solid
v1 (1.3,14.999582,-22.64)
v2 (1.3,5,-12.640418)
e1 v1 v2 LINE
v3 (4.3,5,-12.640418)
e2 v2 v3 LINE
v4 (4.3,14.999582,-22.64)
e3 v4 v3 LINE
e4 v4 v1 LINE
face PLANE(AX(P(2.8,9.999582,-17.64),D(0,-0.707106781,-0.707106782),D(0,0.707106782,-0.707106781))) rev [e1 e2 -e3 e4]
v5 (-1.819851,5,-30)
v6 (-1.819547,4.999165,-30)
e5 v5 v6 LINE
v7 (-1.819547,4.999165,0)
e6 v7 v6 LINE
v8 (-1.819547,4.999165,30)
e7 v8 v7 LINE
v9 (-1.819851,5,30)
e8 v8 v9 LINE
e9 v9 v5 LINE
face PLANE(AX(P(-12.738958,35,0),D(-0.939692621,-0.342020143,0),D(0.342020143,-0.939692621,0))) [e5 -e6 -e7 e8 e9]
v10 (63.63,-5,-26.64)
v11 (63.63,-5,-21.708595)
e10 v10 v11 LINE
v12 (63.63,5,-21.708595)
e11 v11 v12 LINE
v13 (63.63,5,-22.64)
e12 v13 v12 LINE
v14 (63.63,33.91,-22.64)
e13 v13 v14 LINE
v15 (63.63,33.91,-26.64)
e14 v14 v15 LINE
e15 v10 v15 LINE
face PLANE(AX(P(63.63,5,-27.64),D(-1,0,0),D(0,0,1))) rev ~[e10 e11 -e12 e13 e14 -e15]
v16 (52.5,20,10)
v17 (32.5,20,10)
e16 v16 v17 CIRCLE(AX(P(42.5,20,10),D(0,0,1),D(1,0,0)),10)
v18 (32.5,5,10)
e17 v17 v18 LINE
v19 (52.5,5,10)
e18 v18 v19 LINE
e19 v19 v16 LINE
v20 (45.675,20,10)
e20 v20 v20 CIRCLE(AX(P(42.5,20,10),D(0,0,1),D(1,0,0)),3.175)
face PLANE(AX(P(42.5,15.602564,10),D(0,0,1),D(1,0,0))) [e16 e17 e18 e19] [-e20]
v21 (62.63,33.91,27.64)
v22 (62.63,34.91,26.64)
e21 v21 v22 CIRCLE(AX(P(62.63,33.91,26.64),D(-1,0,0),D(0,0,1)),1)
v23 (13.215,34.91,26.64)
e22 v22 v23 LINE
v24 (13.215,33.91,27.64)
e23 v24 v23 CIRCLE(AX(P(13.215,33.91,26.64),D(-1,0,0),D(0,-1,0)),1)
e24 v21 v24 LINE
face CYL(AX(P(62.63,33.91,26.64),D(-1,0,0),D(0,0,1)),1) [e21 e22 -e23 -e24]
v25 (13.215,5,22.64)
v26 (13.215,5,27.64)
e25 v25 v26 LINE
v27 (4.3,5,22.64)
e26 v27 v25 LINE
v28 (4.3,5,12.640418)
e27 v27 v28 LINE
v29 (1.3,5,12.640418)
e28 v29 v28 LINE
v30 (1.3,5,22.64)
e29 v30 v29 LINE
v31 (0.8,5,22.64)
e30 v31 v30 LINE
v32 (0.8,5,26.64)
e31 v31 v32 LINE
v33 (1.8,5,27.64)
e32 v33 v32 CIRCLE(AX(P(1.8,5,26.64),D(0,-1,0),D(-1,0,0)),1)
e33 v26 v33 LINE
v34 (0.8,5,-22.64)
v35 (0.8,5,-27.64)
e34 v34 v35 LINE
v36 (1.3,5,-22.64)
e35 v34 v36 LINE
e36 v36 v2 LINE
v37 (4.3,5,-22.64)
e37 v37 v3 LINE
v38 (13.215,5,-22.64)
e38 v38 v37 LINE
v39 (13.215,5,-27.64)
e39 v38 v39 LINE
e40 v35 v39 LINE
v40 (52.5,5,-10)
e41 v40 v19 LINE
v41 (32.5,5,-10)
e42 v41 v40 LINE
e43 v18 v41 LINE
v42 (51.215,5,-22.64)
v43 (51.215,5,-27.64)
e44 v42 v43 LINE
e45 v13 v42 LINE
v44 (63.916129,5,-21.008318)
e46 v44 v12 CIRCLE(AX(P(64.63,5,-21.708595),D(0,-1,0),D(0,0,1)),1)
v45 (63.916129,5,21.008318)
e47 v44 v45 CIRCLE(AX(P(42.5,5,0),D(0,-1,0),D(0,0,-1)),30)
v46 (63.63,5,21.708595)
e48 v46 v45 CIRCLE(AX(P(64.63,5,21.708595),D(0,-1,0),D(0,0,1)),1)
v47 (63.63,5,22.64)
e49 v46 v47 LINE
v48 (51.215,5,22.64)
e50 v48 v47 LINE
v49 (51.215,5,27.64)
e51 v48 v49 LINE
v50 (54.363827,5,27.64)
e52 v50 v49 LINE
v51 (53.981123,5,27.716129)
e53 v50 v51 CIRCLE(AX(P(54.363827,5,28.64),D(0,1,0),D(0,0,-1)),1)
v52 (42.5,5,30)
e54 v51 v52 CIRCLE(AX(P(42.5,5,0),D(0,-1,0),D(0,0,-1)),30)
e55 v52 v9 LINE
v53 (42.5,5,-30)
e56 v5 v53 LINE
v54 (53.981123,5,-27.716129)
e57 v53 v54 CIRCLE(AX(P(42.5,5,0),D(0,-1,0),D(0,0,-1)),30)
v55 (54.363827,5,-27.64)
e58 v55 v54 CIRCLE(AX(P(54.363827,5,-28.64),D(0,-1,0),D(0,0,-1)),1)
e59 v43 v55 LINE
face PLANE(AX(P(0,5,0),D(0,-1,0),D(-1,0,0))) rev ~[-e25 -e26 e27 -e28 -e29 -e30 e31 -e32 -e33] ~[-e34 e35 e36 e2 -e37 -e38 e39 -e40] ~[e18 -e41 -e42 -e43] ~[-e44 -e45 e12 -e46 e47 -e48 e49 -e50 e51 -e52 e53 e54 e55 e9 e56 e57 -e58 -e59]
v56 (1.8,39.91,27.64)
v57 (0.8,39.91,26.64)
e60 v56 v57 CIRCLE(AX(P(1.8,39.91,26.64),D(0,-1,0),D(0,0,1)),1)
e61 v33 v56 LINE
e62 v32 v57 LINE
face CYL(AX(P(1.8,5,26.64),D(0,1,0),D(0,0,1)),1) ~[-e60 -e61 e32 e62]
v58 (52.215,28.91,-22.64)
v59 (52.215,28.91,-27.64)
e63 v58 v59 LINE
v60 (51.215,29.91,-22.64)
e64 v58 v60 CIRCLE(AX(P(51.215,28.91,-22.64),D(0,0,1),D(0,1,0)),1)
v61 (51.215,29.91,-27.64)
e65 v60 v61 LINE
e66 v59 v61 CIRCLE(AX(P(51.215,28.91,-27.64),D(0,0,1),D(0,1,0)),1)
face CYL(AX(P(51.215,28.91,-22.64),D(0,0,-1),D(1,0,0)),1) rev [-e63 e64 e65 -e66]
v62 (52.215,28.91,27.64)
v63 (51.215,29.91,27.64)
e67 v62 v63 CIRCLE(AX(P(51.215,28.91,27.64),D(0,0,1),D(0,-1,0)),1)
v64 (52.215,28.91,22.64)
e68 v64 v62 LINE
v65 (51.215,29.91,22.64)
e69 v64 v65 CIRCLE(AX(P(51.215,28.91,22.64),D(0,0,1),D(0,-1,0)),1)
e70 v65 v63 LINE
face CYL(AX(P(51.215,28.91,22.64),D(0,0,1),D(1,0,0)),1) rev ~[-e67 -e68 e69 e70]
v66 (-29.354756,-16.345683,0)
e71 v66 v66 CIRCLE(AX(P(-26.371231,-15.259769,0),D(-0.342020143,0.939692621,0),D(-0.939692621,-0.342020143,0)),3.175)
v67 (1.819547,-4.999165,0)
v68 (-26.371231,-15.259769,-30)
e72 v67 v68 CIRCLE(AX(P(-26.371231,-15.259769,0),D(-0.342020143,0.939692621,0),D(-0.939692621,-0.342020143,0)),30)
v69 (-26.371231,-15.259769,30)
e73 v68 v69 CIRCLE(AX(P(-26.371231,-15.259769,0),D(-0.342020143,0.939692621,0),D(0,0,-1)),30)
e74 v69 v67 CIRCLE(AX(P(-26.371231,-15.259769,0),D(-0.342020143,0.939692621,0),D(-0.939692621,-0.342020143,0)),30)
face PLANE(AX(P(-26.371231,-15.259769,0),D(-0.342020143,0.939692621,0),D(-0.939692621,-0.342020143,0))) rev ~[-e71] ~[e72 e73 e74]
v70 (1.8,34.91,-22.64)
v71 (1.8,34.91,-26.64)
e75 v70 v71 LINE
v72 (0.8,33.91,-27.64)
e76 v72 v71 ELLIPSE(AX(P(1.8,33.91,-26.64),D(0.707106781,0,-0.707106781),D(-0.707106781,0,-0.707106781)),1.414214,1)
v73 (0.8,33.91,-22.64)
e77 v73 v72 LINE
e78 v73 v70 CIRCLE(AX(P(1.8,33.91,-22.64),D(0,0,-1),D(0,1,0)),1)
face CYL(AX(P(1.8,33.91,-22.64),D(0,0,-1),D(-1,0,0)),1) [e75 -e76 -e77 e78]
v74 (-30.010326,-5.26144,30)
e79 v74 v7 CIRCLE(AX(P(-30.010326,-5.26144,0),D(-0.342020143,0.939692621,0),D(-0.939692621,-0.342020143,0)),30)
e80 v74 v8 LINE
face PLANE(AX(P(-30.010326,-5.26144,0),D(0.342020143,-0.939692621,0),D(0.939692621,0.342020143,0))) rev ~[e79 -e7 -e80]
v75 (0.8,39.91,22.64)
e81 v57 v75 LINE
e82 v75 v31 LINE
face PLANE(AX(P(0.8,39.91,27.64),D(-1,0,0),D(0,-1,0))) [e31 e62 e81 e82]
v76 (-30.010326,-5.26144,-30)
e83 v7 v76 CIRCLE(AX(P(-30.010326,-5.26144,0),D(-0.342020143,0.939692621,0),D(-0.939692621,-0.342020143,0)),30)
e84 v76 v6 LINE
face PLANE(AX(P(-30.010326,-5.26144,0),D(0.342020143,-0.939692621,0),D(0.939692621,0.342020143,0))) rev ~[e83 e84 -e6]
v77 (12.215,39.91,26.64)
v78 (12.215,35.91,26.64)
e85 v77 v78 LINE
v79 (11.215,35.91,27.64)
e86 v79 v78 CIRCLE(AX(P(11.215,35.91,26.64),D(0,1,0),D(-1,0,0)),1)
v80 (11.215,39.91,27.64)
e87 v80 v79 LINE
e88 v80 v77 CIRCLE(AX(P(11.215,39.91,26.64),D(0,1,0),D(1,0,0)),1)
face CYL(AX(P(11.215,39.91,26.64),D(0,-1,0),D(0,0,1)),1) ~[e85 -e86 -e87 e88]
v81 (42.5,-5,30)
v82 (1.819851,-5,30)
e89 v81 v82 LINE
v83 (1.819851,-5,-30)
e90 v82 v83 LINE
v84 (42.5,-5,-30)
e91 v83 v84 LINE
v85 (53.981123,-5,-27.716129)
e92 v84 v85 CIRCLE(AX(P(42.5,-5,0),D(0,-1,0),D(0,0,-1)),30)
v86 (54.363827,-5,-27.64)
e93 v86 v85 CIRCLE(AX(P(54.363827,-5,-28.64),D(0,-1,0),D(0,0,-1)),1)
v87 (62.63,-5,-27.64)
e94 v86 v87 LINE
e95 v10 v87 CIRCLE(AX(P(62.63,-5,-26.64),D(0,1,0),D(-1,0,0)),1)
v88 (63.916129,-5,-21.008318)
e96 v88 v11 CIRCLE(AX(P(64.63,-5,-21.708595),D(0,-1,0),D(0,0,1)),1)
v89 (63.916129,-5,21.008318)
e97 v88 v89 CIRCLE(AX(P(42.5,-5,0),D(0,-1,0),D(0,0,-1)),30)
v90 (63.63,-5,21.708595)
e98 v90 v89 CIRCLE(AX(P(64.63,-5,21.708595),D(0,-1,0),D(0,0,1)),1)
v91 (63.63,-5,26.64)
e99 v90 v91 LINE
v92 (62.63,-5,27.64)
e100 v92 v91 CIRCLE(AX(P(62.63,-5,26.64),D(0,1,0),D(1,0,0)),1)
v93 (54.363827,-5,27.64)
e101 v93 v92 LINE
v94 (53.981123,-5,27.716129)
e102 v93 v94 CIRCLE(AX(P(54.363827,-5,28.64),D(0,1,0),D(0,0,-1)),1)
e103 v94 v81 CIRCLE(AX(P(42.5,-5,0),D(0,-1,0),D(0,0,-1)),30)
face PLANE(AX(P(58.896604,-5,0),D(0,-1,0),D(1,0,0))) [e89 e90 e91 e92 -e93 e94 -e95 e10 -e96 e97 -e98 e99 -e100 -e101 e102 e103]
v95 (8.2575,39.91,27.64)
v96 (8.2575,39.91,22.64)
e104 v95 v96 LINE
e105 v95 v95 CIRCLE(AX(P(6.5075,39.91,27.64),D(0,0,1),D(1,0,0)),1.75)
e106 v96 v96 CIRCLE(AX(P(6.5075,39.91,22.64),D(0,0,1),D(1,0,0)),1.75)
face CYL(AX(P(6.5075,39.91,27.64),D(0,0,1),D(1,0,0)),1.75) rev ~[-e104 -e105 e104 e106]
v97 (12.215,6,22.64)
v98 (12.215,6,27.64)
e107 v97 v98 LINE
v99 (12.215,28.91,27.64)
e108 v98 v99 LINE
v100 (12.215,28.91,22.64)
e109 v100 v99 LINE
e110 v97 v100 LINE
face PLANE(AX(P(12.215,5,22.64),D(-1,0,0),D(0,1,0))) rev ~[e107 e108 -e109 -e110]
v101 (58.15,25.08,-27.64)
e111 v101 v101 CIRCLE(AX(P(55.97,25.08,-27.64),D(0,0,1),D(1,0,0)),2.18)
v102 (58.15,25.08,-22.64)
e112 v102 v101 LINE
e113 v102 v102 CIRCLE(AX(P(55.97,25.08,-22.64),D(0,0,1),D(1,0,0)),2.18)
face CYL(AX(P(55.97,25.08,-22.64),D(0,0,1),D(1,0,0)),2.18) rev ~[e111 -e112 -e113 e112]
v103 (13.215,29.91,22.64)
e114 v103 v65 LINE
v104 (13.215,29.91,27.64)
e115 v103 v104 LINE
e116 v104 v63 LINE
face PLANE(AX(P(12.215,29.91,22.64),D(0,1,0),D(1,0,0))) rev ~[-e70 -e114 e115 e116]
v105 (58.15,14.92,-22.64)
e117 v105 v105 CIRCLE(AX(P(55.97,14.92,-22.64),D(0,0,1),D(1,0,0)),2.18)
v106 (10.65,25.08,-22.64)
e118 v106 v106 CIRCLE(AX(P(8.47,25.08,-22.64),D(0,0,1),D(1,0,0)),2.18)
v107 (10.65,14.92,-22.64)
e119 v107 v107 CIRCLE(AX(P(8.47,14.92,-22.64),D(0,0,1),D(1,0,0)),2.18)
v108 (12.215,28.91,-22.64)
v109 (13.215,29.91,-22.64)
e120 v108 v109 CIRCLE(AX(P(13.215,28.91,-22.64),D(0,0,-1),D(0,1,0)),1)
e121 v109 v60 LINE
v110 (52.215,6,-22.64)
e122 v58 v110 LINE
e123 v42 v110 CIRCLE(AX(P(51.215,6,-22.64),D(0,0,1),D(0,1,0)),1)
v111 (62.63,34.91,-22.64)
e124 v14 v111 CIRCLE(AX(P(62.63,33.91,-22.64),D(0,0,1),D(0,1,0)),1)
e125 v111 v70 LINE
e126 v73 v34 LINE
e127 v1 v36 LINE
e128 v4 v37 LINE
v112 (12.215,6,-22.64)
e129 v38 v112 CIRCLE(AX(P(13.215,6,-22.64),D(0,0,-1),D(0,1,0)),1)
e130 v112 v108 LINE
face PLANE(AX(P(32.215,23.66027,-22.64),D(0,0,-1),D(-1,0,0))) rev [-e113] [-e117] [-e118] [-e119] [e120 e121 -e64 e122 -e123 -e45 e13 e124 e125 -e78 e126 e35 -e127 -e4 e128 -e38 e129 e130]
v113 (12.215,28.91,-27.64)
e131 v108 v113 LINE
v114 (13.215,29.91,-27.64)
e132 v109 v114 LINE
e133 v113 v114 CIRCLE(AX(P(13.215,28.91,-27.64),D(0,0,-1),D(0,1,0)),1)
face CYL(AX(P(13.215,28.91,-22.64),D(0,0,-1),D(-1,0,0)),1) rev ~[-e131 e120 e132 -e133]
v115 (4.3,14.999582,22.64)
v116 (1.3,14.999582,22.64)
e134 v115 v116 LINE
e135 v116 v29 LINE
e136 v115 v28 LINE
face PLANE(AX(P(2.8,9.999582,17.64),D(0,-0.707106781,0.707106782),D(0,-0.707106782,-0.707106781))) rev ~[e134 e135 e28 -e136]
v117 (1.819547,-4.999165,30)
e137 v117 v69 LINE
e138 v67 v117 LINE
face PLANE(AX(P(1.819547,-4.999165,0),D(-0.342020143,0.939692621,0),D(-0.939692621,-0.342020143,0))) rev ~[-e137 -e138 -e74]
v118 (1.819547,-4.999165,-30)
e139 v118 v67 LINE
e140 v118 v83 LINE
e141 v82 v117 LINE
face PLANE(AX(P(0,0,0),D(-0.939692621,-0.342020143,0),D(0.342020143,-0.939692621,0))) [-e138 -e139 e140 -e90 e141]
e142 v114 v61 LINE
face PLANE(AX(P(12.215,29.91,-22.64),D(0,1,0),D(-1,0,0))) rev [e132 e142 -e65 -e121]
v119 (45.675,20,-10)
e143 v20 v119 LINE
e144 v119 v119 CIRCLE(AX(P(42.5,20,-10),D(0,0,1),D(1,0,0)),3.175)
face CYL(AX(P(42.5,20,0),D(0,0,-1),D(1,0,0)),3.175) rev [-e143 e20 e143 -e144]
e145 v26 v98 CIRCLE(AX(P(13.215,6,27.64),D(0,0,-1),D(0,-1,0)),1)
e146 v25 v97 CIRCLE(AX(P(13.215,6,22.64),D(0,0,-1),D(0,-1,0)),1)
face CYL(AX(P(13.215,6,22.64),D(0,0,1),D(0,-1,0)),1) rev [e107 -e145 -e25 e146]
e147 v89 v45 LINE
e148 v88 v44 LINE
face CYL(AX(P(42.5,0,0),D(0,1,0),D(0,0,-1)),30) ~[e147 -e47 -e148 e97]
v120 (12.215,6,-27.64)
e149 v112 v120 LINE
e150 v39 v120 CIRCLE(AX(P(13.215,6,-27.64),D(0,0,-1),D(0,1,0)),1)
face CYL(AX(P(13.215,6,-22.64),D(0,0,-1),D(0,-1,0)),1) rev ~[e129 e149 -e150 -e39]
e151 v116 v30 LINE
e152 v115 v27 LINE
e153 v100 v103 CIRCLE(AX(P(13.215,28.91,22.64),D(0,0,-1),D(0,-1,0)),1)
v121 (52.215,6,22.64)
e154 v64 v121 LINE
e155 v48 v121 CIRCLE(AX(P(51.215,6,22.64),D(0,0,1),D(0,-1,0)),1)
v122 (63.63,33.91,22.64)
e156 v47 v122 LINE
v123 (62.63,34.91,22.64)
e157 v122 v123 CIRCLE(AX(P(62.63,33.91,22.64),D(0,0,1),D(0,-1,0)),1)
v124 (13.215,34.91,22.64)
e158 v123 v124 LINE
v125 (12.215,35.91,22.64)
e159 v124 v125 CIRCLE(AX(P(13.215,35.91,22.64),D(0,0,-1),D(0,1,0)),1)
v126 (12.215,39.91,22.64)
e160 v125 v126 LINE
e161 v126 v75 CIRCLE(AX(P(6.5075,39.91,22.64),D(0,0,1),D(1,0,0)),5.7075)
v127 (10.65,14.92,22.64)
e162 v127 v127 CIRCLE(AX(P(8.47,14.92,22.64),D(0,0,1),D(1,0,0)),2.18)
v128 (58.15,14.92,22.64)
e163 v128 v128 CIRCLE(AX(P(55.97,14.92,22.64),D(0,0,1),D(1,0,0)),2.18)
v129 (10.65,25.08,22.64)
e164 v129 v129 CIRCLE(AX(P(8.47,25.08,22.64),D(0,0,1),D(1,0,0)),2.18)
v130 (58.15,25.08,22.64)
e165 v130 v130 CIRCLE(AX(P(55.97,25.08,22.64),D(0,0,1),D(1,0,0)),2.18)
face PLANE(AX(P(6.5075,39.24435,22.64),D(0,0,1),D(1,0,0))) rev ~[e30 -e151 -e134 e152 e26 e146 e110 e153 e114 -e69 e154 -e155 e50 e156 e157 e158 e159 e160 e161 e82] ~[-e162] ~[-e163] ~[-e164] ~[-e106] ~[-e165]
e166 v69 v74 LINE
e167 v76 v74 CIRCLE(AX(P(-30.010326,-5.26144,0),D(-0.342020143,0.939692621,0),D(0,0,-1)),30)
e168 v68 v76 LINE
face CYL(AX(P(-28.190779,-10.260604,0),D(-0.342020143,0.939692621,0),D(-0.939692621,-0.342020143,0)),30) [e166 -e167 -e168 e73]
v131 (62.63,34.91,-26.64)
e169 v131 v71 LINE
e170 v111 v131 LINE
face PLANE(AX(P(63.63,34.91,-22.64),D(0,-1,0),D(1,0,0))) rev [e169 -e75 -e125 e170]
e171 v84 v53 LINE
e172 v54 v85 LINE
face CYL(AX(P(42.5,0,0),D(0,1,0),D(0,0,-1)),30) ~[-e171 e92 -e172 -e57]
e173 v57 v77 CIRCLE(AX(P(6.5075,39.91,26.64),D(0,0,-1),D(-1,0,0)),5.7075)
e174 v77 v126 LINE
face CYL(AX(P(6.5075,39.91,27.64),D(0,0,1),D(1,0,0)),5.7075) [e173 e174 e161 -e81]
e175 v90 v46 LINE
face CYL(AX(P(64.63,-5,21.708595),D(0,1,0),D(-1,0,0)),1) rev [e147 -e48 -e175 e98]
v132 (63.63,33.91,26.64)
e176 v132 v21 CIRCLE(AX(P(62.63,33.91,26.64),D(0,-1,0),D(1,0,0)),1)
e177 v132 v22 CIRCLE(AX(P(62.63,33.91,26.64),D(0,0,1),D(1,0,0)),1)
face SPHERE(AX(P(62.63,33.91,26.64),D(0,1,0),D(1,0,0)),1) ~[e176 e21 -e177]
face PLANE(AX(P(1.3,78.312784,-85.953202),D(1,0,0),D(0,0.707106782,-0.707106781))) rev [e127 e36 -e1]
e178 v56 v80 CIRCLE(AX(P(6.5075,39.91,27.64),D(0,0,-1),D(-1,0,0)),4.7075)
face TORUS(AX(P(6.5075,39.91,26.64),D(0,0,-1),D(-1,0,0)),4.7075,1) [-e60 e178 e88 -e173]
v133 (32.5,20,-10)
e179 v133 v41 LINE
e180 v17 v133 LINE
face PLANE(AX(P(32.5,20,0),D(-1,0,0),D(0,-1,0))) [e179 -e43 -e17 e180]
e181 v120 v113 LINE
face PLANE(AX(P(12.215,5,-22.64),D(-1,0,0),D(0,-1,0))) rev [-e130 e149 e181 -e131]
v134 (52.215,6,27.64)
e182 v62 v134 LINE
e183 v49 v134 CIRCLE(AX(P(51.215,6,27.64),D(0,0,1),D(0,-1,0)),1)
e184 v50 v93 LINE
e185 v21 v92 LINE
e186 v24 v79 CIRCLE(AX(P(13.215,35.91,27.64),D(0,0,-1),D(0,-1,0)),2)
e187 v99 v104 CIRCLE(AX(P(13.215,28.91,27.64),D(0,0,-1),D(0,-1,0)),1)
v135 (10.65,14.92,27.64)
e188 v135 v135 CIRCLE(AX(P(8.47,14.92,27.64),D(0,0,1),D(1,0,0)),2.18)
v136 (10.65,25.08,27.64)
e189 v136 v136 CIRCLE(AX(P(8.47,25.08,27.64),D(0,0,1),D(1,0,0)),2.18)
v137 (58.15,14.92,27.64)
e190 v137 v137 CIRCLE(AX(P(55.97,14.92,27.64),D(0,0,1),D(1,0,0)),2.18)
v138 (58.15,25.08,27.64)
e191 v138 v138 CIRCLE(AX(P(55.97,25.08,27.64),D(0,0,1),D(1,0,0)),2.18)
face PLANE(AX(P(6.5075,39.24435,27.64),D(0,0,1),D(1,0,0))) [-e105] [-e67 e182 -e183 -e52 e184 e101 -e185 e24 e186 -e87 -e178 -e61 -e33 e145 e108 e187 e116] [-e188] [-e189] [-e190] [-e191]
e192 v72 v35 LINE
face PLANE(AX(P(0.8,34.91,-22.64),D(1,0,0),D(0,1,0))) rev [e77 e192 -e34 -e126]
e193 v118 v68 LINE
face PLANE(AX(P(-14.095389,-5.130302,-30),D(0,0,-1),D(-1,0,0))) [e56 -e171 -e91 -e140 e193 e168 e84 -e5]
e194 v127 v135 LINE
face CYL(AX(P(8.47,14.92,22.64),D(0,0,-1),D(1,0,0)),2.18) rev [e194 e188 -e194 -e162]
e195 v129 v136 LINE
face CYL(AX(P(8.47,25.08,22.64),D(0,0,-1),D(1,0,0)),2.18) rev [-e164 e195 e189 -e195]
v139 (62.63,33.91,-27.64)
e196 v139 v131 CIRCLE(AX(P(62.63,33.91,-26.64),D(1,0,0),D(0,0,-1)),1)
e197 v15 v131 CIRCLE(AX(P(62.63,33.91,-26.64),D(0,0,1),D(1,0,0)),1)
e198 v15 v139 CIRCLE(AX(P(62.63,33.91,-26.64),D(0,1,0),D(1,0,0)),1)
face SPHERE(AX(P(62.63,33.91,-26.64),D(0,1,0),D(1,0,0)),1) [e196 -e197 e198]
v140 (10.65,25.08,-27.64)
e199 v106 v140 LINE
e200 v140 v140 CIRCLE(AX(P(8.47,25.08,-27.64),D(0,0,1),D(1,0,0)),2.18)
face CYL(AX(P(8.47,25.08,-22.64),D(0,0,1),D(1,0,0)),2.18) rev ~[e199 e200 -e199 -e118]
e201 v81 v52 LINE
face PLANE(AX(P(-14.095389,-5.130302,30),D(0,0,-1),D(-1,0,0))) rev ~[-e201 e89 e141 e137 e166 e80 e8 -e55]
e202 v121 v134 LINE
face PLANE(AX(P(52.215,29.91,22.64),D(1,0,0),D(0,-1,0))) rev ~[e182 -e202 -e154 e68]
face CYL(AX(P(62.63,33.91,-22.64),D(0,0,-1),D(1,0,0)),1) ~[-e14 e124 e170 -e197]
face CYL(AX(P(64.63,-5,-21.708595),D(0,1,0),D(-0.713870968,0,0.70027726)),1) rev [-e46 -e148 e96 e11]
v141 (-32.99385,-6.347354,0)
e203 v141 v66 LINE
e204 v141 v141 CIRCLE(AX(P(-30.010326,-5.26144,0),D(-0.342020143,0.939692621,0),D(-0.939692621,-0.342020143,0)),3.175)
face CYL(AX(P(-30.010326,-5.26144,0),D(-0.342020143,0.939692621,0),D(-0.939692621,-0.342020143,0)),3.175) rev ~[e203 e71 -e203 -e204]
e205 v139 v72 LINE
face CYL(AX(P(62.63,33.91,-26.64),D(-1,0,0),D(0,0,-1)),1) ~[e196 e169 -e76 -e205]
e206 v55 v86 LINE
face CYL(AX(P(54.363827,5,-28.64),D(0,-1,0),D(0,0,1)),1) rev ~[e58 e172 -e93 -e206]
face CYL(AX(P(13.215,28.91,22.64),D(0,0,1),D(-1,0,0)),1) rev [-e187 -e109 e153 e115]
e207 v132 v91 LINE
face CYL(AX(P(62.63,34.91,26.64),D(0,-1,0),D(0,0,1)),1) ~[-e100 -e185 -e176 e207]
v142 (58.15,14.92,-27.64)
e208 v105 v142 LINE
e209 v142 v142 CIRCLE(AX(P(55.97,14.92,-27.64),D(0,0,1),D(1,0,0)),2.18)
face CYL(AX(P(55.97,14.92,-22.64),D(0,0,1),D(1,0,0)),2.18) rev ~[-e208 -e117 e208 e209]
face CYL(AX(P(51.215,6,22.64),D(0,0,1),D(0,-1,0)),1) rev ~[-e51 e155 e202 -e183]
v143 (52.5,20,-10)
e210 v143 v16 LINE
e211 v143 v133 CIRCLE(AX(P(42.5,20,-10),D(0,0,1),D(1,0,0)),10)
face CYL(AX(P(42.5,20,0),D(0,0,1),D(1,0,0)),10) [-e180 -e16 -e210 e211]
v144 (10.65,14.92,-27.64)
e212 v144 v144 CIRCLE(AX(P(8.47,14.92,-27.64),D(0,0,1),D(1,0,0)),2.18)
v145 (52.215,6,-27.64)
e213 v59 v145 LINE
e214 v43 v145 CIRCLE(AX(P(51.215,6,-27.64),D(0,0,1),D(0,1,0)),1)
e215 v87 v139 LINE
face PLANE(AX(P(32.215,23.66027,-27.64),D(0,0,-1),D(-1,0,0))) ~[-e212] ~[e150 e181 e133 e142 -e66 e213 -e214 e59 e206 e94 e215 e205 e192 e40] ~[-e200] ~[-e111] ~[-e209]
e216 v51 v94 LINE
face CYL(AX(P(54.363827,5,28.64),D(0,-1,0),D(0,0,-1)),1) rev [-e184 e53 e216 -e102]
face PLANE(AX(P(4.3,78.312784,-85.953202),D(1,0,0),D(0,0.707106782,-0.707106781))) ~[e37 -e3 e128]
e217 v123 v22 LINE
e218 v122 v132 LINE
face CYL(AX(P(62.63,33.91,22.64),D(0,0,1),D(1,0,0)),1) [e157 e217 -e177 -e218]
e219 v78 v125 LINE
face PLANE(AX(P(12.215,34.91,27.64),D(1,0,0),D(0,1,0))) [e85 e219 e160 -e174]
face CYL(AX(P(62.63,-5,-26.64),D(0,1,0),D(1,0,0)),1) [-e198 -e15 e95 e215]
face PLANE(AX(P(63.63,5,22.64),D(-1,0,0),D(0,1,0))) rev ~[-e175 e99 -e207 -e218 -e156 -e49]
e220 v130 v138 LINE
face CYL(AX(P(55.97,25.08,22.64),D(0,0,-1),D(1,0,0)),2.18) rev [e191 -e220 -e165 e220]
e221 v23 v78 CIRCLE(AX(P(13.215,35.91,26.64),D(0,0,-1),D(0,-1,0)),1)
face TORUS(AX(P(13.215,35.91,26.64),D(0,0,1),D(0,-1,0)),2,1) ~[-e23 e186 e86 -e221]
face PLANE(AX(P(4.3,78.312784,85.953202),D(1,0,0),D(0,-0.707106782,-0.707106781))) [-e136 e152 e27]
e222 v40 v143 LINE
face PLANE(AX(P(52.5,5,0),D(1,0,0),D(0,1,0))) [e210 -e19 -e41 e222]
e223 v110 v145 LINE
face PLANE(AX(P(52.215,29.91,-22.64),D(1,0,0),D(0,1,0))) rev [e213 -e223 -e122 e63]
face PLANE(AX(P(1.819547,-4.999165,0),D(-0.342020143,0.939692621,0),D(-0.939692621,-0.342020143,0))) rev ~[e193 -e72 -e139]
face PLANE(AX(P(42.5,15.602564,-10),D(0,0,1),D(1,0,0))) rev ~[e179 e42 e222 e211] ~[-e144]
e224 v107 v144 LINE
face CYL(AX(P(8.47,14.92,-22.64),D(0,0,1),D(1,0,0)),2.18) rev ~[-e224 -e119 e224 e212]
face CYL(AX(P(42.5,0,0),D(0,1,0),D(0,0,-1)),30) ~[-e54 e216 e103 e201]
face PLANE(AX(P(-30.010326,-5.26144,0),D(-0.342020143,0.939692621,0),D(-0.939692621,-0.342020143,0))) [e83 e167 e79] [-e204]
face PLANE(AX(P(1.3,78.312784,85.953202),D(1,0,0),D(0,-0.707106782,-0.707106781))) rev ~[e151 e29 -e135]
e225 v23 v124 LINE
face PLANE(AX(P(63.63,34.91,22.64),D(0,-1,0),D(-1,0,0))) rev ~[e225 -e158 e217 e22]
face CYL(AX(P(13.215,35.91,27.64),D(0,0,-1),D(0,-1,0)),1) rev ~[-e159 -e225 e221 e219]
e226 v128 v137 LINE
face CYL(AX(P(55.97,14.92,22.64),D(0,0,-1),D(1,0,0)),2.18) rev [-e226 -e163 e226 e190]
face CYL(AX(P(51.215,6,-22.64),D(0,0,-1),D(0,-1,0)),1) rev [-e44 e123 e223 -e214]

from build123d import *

# Parameters (mm, degrees)
BOSS_EXTRU_3_DEPTH      = 5
ESQUISSE7_R             = 3.175
BOSS_EXTRU_5_DEPTH      = 10
ESQUISSE13_R            = 2.18
BOSS_EXTRU_8_DEPTH      = 5
ESQUISSE33_W            = 9.466792894
ESQUISSE33_H            = 55.28
BOSS_EXTRU_10_DEPTH     = 10
ENL_V_MAT_EXTRU_6_DEPTH = 65
ESQUISSE35_R            = 30
BOSS_EXTRU_11_DEPTH     = 5.32
BOSS_EXTRU_12_DEPTH     = 30
ESQUISSE41_R            = 3.175
ENL_V_MAT_EXTRU_7_DEPTH = 60
ESQUISSE42_R            = 1.75
BOSS_EXTRU_13_DEPTH     = 5
NERVURE4_REACH          = 90.538
ESQUISSE45_WALL_W       = 193.218913386
ESQUISSE45_WALL_H       = 3
CONG_1_R                = 1
CONG_2_R                = 1


with BuildPart() as part:
    # Esquisse5 → Boss.-Extru.3 (new, symmetric)
    with BuildSketch(Plane(origin=(0, 0, 0), x_dir=(1, 0, 0), z_dir=(0, 1, 0))):
        with BuildLine():
            Line((42.5, -30), (-42.5, -30))
            ThreePointArc((-42.5, -30), (-72.5, 0), (-42.5, 30))
            Line((-42.5, 30), (42.5, 30))
            ThreePointArc((42.5, 30), (72.5, 0), (42.5, -30))
        make_face()
    extrude(amount=BOSS_EXTRU_3_DEPTH, both=True)

    # Esquisse7 → Boss.-Extru.5 (add, symmetric)
    with BuildSketch(Plane.XY):
        with BuildLine():
            Line((32.5, 5), (52.5, 5))
            Line((52.5, 5), (52.5, 20))
            ThreePointArc((52.5, 20), (42.5, 30), (32.5, 20))
            Line((32.5, 20), (32.5, 5))
        make_face()
        with Locations((42.5, 20)):
            Circle(ESQUISSE7_R, mode=Mode.SUBTRACT)
    extrude(amount=BOSS_EXTRU_5_DEPTH, both=True)

    # Esquisse13 → Boss.-Extru.8 (add)
    with BuildSketch(Plane.XY.offset(22.64)):
        Polygon((0.8, 5), (5.8, 5), (12.215, 5), (12.215, 29.91), (52.215, 29.91), (52.215, 5), (58.63, 5), (63.63, 5), (63.63, 34.91), (0.8, 34.91), align=None)
        with Locations((8.47, 14.92)):
            Circle(ESQUISSE13_R, mode=Mode.SUBTRACT)
        with Locations((55.97, 14.92)):
            Circle(ESQUISSE13_R, mode=Mode.SUBTRACT)
        with Locations((8.47, 25.08)):
            Circle(ESQUISSE13_R, mode=Mode.SUBTRACT)
        with Locations((55.97, 25.08)):
            Circle(ESQUISSE13_R, mode=Mode.SUBTRACT)
    boss_extru_8 = extrude(amount=BOSS_EXTRU_8_DEPTH)

    # Symétrie2: Boss.-Extru.8 across plane
    add(boss_extru_8.mirror(Plane.XY))

    # Esquisse33 → Boss.-Extru.10 (add)
    with BuildSketch(Plane.XZ.offset(-5)):
        with Locations((58.896603553, 0)):
            Rectangle(ESQUISSE33_W, ESQUISSE33_H)
    extrude(amount=BOSS_EXTRU_10_DEPTH)

    # Esquisse36 → Enlèv. mat.-Extru.6 (cut, symmetric)
    with BuildSketch(Plane.XY):
        Polygon((0, 0), (9.099255857, -25), (-112.5, -25), (-112.5, 35), (-12.738958199, 35), align=None)
    extrude(amount=ENL_V_MAT_EXTRU_6_DEPTH, both=True, mode=Mode.SUBTRACT)



with BuildPart() as body_2:
    # Esquisse35 → Boss.-Extru.11 (new, symmetric)
    with BuildSketch(Plane(origin=(0, 0, 0), x_dir=(0, 0, -1), z_dir=(-0.34202014332566977, 0.939692620785908, 0))):
        with Locations(Location((0, 30, 0), (0, 0, 90))):
            Circle(ESQUISSE35_R)
    extrude(amount=BOSS_EXTRU_11_DEPTH, both=True)


with BuildPart() as part_1:
    add(part.part)

    add(body_2.part)  # Boss.-Extru.12 merges body 2
    # Esquisse40 → Boss.-Extru.12 (add, symmetric)
    with BuildSketch(Plane.XY):
        Polygon((-26.371231461, -15.259769042), (-30.010325786, -5.261439557), (-1.819547162, 4.999164743), (1.819547162, -4.999164743), align=None)
    extrude(amount=BOSS_EXTRU_12_DEPTH, both=True)

    # Esquisse41 → Enlèv. mat.-Extru.7 (cut)
    with BuildSketch(Plane(origin=(-1.819547162, 4.999164743, 0), x_dir=(0.939692620785908, 0.3420201433256698, 0), z_dir=(-0.3420201433256698, 0.9396926207859081, 0))):
        with Locations(Location((-30, 0, 0), (0, 0, 180))):
            Circle(ESQUISSE41_R)
    extrude(amount=-ENL_V_MAT_EXTRU_7_DEPTH, mode=Mode.SUBTRACT)

    # Esquisse42 → Boss.-Extru.13 (add)
    with BuildSketch(Plane.XY.offset(27.64)):
        with BuildLine():
            Line((0.8, 39.91), (0.8, 34.91))
            Line((0.8, 34.91), (12.215, 34.91))
            Line((12.215, 34.91), (12.215, 39.91))
            ThreePointArc((12.215, 39.91), (6.5075, 45.6175), (0.8, 39.91))
        make_face()
        with Locations((6.5075, 39.91)):
            Circle(ESQUISSE42_R, mode=Mode.SUBTRACT)
    extrude(amount=-BOSS_EXTRU_13_DEPTH)

    # Esquisse45 wall → Nervure4 (add, up to next)
    with BuildSketch(Plane(origin=(2.8, 9.999582371, 17.640000004), x_dir=(0, -0.707106781505, -0.707106780868), z_dir=(0, -0.707106780868, 0.707106781505)), mode=Mode.PRIVATE) as nervure4_sk1:
        Rectangle(ESQUISSE45_WALL_W, ESQUISSE45_WALL_H)
    nervure4_tool1 = extrude(nervure4_sk1.sketch, amount=NERVURE4_REACH, mode=Mode.PRIVATE) - part_1.part
    nervure4 = nervure4_tool1.solids().sort_by_distance((2.8, 9.999582371, 17.640000004))[0]
    add(nervure4)

    # Congé1
    cong_1_edges = [part_1.edges().sort_by_distance(p)[0] for p in [
        (54.163207106, 0, 27.64),
        (63.63, 14.955, 27.64),
        (63.63, 0, 21.296081799),
        (63.63, 0, -21.296081799),
        (63.63, 14.955, -27.64),
        (54.163207106, 0, -27.64),
    ]]
    fillet(cong_1_edges, radius=CONG_1_R)

    # Symétrie3: Nervure4 across plane
    add(nervure4.mirror(Plane.XY))

    # Congé2
    cong_2_edges = [part_1.edges().sort_by_distance(p)[0] for p in [
        (63.63, 34.91, 24.64),
        (63.63, 34.91, -24.64),
        (52.215, 5, 25.14),
        (12.215, 5, -25.14),
        (12.215, 29.91, 25.14),
        (52.215, 29.91, 25.14),
        (0.8, 22.455, 27.64),
        (12.215, 5, 25.14),
        (52.215, 29.91, -25.14),
        (12.215, 29.91, -25.14),
        (0.8, 34.91, -25.14),
        (52.215, 5, -25.14),
        (31.715, 34.91, -27.64),
        (37.4225, 34.91, 27.64),
        (6.5075, 45.6175, 27.64),
        (12.215, 34.91, 25.14),
        (12.215, 37.41, 27.64),
        (63.337106781, 34.91, 27.347106781),
        (63.337106781, 34.91, -27.347106781),
    ]]
    fillet(cong_2_edges, radius=CONG_2_R)


solid = part_1.part
